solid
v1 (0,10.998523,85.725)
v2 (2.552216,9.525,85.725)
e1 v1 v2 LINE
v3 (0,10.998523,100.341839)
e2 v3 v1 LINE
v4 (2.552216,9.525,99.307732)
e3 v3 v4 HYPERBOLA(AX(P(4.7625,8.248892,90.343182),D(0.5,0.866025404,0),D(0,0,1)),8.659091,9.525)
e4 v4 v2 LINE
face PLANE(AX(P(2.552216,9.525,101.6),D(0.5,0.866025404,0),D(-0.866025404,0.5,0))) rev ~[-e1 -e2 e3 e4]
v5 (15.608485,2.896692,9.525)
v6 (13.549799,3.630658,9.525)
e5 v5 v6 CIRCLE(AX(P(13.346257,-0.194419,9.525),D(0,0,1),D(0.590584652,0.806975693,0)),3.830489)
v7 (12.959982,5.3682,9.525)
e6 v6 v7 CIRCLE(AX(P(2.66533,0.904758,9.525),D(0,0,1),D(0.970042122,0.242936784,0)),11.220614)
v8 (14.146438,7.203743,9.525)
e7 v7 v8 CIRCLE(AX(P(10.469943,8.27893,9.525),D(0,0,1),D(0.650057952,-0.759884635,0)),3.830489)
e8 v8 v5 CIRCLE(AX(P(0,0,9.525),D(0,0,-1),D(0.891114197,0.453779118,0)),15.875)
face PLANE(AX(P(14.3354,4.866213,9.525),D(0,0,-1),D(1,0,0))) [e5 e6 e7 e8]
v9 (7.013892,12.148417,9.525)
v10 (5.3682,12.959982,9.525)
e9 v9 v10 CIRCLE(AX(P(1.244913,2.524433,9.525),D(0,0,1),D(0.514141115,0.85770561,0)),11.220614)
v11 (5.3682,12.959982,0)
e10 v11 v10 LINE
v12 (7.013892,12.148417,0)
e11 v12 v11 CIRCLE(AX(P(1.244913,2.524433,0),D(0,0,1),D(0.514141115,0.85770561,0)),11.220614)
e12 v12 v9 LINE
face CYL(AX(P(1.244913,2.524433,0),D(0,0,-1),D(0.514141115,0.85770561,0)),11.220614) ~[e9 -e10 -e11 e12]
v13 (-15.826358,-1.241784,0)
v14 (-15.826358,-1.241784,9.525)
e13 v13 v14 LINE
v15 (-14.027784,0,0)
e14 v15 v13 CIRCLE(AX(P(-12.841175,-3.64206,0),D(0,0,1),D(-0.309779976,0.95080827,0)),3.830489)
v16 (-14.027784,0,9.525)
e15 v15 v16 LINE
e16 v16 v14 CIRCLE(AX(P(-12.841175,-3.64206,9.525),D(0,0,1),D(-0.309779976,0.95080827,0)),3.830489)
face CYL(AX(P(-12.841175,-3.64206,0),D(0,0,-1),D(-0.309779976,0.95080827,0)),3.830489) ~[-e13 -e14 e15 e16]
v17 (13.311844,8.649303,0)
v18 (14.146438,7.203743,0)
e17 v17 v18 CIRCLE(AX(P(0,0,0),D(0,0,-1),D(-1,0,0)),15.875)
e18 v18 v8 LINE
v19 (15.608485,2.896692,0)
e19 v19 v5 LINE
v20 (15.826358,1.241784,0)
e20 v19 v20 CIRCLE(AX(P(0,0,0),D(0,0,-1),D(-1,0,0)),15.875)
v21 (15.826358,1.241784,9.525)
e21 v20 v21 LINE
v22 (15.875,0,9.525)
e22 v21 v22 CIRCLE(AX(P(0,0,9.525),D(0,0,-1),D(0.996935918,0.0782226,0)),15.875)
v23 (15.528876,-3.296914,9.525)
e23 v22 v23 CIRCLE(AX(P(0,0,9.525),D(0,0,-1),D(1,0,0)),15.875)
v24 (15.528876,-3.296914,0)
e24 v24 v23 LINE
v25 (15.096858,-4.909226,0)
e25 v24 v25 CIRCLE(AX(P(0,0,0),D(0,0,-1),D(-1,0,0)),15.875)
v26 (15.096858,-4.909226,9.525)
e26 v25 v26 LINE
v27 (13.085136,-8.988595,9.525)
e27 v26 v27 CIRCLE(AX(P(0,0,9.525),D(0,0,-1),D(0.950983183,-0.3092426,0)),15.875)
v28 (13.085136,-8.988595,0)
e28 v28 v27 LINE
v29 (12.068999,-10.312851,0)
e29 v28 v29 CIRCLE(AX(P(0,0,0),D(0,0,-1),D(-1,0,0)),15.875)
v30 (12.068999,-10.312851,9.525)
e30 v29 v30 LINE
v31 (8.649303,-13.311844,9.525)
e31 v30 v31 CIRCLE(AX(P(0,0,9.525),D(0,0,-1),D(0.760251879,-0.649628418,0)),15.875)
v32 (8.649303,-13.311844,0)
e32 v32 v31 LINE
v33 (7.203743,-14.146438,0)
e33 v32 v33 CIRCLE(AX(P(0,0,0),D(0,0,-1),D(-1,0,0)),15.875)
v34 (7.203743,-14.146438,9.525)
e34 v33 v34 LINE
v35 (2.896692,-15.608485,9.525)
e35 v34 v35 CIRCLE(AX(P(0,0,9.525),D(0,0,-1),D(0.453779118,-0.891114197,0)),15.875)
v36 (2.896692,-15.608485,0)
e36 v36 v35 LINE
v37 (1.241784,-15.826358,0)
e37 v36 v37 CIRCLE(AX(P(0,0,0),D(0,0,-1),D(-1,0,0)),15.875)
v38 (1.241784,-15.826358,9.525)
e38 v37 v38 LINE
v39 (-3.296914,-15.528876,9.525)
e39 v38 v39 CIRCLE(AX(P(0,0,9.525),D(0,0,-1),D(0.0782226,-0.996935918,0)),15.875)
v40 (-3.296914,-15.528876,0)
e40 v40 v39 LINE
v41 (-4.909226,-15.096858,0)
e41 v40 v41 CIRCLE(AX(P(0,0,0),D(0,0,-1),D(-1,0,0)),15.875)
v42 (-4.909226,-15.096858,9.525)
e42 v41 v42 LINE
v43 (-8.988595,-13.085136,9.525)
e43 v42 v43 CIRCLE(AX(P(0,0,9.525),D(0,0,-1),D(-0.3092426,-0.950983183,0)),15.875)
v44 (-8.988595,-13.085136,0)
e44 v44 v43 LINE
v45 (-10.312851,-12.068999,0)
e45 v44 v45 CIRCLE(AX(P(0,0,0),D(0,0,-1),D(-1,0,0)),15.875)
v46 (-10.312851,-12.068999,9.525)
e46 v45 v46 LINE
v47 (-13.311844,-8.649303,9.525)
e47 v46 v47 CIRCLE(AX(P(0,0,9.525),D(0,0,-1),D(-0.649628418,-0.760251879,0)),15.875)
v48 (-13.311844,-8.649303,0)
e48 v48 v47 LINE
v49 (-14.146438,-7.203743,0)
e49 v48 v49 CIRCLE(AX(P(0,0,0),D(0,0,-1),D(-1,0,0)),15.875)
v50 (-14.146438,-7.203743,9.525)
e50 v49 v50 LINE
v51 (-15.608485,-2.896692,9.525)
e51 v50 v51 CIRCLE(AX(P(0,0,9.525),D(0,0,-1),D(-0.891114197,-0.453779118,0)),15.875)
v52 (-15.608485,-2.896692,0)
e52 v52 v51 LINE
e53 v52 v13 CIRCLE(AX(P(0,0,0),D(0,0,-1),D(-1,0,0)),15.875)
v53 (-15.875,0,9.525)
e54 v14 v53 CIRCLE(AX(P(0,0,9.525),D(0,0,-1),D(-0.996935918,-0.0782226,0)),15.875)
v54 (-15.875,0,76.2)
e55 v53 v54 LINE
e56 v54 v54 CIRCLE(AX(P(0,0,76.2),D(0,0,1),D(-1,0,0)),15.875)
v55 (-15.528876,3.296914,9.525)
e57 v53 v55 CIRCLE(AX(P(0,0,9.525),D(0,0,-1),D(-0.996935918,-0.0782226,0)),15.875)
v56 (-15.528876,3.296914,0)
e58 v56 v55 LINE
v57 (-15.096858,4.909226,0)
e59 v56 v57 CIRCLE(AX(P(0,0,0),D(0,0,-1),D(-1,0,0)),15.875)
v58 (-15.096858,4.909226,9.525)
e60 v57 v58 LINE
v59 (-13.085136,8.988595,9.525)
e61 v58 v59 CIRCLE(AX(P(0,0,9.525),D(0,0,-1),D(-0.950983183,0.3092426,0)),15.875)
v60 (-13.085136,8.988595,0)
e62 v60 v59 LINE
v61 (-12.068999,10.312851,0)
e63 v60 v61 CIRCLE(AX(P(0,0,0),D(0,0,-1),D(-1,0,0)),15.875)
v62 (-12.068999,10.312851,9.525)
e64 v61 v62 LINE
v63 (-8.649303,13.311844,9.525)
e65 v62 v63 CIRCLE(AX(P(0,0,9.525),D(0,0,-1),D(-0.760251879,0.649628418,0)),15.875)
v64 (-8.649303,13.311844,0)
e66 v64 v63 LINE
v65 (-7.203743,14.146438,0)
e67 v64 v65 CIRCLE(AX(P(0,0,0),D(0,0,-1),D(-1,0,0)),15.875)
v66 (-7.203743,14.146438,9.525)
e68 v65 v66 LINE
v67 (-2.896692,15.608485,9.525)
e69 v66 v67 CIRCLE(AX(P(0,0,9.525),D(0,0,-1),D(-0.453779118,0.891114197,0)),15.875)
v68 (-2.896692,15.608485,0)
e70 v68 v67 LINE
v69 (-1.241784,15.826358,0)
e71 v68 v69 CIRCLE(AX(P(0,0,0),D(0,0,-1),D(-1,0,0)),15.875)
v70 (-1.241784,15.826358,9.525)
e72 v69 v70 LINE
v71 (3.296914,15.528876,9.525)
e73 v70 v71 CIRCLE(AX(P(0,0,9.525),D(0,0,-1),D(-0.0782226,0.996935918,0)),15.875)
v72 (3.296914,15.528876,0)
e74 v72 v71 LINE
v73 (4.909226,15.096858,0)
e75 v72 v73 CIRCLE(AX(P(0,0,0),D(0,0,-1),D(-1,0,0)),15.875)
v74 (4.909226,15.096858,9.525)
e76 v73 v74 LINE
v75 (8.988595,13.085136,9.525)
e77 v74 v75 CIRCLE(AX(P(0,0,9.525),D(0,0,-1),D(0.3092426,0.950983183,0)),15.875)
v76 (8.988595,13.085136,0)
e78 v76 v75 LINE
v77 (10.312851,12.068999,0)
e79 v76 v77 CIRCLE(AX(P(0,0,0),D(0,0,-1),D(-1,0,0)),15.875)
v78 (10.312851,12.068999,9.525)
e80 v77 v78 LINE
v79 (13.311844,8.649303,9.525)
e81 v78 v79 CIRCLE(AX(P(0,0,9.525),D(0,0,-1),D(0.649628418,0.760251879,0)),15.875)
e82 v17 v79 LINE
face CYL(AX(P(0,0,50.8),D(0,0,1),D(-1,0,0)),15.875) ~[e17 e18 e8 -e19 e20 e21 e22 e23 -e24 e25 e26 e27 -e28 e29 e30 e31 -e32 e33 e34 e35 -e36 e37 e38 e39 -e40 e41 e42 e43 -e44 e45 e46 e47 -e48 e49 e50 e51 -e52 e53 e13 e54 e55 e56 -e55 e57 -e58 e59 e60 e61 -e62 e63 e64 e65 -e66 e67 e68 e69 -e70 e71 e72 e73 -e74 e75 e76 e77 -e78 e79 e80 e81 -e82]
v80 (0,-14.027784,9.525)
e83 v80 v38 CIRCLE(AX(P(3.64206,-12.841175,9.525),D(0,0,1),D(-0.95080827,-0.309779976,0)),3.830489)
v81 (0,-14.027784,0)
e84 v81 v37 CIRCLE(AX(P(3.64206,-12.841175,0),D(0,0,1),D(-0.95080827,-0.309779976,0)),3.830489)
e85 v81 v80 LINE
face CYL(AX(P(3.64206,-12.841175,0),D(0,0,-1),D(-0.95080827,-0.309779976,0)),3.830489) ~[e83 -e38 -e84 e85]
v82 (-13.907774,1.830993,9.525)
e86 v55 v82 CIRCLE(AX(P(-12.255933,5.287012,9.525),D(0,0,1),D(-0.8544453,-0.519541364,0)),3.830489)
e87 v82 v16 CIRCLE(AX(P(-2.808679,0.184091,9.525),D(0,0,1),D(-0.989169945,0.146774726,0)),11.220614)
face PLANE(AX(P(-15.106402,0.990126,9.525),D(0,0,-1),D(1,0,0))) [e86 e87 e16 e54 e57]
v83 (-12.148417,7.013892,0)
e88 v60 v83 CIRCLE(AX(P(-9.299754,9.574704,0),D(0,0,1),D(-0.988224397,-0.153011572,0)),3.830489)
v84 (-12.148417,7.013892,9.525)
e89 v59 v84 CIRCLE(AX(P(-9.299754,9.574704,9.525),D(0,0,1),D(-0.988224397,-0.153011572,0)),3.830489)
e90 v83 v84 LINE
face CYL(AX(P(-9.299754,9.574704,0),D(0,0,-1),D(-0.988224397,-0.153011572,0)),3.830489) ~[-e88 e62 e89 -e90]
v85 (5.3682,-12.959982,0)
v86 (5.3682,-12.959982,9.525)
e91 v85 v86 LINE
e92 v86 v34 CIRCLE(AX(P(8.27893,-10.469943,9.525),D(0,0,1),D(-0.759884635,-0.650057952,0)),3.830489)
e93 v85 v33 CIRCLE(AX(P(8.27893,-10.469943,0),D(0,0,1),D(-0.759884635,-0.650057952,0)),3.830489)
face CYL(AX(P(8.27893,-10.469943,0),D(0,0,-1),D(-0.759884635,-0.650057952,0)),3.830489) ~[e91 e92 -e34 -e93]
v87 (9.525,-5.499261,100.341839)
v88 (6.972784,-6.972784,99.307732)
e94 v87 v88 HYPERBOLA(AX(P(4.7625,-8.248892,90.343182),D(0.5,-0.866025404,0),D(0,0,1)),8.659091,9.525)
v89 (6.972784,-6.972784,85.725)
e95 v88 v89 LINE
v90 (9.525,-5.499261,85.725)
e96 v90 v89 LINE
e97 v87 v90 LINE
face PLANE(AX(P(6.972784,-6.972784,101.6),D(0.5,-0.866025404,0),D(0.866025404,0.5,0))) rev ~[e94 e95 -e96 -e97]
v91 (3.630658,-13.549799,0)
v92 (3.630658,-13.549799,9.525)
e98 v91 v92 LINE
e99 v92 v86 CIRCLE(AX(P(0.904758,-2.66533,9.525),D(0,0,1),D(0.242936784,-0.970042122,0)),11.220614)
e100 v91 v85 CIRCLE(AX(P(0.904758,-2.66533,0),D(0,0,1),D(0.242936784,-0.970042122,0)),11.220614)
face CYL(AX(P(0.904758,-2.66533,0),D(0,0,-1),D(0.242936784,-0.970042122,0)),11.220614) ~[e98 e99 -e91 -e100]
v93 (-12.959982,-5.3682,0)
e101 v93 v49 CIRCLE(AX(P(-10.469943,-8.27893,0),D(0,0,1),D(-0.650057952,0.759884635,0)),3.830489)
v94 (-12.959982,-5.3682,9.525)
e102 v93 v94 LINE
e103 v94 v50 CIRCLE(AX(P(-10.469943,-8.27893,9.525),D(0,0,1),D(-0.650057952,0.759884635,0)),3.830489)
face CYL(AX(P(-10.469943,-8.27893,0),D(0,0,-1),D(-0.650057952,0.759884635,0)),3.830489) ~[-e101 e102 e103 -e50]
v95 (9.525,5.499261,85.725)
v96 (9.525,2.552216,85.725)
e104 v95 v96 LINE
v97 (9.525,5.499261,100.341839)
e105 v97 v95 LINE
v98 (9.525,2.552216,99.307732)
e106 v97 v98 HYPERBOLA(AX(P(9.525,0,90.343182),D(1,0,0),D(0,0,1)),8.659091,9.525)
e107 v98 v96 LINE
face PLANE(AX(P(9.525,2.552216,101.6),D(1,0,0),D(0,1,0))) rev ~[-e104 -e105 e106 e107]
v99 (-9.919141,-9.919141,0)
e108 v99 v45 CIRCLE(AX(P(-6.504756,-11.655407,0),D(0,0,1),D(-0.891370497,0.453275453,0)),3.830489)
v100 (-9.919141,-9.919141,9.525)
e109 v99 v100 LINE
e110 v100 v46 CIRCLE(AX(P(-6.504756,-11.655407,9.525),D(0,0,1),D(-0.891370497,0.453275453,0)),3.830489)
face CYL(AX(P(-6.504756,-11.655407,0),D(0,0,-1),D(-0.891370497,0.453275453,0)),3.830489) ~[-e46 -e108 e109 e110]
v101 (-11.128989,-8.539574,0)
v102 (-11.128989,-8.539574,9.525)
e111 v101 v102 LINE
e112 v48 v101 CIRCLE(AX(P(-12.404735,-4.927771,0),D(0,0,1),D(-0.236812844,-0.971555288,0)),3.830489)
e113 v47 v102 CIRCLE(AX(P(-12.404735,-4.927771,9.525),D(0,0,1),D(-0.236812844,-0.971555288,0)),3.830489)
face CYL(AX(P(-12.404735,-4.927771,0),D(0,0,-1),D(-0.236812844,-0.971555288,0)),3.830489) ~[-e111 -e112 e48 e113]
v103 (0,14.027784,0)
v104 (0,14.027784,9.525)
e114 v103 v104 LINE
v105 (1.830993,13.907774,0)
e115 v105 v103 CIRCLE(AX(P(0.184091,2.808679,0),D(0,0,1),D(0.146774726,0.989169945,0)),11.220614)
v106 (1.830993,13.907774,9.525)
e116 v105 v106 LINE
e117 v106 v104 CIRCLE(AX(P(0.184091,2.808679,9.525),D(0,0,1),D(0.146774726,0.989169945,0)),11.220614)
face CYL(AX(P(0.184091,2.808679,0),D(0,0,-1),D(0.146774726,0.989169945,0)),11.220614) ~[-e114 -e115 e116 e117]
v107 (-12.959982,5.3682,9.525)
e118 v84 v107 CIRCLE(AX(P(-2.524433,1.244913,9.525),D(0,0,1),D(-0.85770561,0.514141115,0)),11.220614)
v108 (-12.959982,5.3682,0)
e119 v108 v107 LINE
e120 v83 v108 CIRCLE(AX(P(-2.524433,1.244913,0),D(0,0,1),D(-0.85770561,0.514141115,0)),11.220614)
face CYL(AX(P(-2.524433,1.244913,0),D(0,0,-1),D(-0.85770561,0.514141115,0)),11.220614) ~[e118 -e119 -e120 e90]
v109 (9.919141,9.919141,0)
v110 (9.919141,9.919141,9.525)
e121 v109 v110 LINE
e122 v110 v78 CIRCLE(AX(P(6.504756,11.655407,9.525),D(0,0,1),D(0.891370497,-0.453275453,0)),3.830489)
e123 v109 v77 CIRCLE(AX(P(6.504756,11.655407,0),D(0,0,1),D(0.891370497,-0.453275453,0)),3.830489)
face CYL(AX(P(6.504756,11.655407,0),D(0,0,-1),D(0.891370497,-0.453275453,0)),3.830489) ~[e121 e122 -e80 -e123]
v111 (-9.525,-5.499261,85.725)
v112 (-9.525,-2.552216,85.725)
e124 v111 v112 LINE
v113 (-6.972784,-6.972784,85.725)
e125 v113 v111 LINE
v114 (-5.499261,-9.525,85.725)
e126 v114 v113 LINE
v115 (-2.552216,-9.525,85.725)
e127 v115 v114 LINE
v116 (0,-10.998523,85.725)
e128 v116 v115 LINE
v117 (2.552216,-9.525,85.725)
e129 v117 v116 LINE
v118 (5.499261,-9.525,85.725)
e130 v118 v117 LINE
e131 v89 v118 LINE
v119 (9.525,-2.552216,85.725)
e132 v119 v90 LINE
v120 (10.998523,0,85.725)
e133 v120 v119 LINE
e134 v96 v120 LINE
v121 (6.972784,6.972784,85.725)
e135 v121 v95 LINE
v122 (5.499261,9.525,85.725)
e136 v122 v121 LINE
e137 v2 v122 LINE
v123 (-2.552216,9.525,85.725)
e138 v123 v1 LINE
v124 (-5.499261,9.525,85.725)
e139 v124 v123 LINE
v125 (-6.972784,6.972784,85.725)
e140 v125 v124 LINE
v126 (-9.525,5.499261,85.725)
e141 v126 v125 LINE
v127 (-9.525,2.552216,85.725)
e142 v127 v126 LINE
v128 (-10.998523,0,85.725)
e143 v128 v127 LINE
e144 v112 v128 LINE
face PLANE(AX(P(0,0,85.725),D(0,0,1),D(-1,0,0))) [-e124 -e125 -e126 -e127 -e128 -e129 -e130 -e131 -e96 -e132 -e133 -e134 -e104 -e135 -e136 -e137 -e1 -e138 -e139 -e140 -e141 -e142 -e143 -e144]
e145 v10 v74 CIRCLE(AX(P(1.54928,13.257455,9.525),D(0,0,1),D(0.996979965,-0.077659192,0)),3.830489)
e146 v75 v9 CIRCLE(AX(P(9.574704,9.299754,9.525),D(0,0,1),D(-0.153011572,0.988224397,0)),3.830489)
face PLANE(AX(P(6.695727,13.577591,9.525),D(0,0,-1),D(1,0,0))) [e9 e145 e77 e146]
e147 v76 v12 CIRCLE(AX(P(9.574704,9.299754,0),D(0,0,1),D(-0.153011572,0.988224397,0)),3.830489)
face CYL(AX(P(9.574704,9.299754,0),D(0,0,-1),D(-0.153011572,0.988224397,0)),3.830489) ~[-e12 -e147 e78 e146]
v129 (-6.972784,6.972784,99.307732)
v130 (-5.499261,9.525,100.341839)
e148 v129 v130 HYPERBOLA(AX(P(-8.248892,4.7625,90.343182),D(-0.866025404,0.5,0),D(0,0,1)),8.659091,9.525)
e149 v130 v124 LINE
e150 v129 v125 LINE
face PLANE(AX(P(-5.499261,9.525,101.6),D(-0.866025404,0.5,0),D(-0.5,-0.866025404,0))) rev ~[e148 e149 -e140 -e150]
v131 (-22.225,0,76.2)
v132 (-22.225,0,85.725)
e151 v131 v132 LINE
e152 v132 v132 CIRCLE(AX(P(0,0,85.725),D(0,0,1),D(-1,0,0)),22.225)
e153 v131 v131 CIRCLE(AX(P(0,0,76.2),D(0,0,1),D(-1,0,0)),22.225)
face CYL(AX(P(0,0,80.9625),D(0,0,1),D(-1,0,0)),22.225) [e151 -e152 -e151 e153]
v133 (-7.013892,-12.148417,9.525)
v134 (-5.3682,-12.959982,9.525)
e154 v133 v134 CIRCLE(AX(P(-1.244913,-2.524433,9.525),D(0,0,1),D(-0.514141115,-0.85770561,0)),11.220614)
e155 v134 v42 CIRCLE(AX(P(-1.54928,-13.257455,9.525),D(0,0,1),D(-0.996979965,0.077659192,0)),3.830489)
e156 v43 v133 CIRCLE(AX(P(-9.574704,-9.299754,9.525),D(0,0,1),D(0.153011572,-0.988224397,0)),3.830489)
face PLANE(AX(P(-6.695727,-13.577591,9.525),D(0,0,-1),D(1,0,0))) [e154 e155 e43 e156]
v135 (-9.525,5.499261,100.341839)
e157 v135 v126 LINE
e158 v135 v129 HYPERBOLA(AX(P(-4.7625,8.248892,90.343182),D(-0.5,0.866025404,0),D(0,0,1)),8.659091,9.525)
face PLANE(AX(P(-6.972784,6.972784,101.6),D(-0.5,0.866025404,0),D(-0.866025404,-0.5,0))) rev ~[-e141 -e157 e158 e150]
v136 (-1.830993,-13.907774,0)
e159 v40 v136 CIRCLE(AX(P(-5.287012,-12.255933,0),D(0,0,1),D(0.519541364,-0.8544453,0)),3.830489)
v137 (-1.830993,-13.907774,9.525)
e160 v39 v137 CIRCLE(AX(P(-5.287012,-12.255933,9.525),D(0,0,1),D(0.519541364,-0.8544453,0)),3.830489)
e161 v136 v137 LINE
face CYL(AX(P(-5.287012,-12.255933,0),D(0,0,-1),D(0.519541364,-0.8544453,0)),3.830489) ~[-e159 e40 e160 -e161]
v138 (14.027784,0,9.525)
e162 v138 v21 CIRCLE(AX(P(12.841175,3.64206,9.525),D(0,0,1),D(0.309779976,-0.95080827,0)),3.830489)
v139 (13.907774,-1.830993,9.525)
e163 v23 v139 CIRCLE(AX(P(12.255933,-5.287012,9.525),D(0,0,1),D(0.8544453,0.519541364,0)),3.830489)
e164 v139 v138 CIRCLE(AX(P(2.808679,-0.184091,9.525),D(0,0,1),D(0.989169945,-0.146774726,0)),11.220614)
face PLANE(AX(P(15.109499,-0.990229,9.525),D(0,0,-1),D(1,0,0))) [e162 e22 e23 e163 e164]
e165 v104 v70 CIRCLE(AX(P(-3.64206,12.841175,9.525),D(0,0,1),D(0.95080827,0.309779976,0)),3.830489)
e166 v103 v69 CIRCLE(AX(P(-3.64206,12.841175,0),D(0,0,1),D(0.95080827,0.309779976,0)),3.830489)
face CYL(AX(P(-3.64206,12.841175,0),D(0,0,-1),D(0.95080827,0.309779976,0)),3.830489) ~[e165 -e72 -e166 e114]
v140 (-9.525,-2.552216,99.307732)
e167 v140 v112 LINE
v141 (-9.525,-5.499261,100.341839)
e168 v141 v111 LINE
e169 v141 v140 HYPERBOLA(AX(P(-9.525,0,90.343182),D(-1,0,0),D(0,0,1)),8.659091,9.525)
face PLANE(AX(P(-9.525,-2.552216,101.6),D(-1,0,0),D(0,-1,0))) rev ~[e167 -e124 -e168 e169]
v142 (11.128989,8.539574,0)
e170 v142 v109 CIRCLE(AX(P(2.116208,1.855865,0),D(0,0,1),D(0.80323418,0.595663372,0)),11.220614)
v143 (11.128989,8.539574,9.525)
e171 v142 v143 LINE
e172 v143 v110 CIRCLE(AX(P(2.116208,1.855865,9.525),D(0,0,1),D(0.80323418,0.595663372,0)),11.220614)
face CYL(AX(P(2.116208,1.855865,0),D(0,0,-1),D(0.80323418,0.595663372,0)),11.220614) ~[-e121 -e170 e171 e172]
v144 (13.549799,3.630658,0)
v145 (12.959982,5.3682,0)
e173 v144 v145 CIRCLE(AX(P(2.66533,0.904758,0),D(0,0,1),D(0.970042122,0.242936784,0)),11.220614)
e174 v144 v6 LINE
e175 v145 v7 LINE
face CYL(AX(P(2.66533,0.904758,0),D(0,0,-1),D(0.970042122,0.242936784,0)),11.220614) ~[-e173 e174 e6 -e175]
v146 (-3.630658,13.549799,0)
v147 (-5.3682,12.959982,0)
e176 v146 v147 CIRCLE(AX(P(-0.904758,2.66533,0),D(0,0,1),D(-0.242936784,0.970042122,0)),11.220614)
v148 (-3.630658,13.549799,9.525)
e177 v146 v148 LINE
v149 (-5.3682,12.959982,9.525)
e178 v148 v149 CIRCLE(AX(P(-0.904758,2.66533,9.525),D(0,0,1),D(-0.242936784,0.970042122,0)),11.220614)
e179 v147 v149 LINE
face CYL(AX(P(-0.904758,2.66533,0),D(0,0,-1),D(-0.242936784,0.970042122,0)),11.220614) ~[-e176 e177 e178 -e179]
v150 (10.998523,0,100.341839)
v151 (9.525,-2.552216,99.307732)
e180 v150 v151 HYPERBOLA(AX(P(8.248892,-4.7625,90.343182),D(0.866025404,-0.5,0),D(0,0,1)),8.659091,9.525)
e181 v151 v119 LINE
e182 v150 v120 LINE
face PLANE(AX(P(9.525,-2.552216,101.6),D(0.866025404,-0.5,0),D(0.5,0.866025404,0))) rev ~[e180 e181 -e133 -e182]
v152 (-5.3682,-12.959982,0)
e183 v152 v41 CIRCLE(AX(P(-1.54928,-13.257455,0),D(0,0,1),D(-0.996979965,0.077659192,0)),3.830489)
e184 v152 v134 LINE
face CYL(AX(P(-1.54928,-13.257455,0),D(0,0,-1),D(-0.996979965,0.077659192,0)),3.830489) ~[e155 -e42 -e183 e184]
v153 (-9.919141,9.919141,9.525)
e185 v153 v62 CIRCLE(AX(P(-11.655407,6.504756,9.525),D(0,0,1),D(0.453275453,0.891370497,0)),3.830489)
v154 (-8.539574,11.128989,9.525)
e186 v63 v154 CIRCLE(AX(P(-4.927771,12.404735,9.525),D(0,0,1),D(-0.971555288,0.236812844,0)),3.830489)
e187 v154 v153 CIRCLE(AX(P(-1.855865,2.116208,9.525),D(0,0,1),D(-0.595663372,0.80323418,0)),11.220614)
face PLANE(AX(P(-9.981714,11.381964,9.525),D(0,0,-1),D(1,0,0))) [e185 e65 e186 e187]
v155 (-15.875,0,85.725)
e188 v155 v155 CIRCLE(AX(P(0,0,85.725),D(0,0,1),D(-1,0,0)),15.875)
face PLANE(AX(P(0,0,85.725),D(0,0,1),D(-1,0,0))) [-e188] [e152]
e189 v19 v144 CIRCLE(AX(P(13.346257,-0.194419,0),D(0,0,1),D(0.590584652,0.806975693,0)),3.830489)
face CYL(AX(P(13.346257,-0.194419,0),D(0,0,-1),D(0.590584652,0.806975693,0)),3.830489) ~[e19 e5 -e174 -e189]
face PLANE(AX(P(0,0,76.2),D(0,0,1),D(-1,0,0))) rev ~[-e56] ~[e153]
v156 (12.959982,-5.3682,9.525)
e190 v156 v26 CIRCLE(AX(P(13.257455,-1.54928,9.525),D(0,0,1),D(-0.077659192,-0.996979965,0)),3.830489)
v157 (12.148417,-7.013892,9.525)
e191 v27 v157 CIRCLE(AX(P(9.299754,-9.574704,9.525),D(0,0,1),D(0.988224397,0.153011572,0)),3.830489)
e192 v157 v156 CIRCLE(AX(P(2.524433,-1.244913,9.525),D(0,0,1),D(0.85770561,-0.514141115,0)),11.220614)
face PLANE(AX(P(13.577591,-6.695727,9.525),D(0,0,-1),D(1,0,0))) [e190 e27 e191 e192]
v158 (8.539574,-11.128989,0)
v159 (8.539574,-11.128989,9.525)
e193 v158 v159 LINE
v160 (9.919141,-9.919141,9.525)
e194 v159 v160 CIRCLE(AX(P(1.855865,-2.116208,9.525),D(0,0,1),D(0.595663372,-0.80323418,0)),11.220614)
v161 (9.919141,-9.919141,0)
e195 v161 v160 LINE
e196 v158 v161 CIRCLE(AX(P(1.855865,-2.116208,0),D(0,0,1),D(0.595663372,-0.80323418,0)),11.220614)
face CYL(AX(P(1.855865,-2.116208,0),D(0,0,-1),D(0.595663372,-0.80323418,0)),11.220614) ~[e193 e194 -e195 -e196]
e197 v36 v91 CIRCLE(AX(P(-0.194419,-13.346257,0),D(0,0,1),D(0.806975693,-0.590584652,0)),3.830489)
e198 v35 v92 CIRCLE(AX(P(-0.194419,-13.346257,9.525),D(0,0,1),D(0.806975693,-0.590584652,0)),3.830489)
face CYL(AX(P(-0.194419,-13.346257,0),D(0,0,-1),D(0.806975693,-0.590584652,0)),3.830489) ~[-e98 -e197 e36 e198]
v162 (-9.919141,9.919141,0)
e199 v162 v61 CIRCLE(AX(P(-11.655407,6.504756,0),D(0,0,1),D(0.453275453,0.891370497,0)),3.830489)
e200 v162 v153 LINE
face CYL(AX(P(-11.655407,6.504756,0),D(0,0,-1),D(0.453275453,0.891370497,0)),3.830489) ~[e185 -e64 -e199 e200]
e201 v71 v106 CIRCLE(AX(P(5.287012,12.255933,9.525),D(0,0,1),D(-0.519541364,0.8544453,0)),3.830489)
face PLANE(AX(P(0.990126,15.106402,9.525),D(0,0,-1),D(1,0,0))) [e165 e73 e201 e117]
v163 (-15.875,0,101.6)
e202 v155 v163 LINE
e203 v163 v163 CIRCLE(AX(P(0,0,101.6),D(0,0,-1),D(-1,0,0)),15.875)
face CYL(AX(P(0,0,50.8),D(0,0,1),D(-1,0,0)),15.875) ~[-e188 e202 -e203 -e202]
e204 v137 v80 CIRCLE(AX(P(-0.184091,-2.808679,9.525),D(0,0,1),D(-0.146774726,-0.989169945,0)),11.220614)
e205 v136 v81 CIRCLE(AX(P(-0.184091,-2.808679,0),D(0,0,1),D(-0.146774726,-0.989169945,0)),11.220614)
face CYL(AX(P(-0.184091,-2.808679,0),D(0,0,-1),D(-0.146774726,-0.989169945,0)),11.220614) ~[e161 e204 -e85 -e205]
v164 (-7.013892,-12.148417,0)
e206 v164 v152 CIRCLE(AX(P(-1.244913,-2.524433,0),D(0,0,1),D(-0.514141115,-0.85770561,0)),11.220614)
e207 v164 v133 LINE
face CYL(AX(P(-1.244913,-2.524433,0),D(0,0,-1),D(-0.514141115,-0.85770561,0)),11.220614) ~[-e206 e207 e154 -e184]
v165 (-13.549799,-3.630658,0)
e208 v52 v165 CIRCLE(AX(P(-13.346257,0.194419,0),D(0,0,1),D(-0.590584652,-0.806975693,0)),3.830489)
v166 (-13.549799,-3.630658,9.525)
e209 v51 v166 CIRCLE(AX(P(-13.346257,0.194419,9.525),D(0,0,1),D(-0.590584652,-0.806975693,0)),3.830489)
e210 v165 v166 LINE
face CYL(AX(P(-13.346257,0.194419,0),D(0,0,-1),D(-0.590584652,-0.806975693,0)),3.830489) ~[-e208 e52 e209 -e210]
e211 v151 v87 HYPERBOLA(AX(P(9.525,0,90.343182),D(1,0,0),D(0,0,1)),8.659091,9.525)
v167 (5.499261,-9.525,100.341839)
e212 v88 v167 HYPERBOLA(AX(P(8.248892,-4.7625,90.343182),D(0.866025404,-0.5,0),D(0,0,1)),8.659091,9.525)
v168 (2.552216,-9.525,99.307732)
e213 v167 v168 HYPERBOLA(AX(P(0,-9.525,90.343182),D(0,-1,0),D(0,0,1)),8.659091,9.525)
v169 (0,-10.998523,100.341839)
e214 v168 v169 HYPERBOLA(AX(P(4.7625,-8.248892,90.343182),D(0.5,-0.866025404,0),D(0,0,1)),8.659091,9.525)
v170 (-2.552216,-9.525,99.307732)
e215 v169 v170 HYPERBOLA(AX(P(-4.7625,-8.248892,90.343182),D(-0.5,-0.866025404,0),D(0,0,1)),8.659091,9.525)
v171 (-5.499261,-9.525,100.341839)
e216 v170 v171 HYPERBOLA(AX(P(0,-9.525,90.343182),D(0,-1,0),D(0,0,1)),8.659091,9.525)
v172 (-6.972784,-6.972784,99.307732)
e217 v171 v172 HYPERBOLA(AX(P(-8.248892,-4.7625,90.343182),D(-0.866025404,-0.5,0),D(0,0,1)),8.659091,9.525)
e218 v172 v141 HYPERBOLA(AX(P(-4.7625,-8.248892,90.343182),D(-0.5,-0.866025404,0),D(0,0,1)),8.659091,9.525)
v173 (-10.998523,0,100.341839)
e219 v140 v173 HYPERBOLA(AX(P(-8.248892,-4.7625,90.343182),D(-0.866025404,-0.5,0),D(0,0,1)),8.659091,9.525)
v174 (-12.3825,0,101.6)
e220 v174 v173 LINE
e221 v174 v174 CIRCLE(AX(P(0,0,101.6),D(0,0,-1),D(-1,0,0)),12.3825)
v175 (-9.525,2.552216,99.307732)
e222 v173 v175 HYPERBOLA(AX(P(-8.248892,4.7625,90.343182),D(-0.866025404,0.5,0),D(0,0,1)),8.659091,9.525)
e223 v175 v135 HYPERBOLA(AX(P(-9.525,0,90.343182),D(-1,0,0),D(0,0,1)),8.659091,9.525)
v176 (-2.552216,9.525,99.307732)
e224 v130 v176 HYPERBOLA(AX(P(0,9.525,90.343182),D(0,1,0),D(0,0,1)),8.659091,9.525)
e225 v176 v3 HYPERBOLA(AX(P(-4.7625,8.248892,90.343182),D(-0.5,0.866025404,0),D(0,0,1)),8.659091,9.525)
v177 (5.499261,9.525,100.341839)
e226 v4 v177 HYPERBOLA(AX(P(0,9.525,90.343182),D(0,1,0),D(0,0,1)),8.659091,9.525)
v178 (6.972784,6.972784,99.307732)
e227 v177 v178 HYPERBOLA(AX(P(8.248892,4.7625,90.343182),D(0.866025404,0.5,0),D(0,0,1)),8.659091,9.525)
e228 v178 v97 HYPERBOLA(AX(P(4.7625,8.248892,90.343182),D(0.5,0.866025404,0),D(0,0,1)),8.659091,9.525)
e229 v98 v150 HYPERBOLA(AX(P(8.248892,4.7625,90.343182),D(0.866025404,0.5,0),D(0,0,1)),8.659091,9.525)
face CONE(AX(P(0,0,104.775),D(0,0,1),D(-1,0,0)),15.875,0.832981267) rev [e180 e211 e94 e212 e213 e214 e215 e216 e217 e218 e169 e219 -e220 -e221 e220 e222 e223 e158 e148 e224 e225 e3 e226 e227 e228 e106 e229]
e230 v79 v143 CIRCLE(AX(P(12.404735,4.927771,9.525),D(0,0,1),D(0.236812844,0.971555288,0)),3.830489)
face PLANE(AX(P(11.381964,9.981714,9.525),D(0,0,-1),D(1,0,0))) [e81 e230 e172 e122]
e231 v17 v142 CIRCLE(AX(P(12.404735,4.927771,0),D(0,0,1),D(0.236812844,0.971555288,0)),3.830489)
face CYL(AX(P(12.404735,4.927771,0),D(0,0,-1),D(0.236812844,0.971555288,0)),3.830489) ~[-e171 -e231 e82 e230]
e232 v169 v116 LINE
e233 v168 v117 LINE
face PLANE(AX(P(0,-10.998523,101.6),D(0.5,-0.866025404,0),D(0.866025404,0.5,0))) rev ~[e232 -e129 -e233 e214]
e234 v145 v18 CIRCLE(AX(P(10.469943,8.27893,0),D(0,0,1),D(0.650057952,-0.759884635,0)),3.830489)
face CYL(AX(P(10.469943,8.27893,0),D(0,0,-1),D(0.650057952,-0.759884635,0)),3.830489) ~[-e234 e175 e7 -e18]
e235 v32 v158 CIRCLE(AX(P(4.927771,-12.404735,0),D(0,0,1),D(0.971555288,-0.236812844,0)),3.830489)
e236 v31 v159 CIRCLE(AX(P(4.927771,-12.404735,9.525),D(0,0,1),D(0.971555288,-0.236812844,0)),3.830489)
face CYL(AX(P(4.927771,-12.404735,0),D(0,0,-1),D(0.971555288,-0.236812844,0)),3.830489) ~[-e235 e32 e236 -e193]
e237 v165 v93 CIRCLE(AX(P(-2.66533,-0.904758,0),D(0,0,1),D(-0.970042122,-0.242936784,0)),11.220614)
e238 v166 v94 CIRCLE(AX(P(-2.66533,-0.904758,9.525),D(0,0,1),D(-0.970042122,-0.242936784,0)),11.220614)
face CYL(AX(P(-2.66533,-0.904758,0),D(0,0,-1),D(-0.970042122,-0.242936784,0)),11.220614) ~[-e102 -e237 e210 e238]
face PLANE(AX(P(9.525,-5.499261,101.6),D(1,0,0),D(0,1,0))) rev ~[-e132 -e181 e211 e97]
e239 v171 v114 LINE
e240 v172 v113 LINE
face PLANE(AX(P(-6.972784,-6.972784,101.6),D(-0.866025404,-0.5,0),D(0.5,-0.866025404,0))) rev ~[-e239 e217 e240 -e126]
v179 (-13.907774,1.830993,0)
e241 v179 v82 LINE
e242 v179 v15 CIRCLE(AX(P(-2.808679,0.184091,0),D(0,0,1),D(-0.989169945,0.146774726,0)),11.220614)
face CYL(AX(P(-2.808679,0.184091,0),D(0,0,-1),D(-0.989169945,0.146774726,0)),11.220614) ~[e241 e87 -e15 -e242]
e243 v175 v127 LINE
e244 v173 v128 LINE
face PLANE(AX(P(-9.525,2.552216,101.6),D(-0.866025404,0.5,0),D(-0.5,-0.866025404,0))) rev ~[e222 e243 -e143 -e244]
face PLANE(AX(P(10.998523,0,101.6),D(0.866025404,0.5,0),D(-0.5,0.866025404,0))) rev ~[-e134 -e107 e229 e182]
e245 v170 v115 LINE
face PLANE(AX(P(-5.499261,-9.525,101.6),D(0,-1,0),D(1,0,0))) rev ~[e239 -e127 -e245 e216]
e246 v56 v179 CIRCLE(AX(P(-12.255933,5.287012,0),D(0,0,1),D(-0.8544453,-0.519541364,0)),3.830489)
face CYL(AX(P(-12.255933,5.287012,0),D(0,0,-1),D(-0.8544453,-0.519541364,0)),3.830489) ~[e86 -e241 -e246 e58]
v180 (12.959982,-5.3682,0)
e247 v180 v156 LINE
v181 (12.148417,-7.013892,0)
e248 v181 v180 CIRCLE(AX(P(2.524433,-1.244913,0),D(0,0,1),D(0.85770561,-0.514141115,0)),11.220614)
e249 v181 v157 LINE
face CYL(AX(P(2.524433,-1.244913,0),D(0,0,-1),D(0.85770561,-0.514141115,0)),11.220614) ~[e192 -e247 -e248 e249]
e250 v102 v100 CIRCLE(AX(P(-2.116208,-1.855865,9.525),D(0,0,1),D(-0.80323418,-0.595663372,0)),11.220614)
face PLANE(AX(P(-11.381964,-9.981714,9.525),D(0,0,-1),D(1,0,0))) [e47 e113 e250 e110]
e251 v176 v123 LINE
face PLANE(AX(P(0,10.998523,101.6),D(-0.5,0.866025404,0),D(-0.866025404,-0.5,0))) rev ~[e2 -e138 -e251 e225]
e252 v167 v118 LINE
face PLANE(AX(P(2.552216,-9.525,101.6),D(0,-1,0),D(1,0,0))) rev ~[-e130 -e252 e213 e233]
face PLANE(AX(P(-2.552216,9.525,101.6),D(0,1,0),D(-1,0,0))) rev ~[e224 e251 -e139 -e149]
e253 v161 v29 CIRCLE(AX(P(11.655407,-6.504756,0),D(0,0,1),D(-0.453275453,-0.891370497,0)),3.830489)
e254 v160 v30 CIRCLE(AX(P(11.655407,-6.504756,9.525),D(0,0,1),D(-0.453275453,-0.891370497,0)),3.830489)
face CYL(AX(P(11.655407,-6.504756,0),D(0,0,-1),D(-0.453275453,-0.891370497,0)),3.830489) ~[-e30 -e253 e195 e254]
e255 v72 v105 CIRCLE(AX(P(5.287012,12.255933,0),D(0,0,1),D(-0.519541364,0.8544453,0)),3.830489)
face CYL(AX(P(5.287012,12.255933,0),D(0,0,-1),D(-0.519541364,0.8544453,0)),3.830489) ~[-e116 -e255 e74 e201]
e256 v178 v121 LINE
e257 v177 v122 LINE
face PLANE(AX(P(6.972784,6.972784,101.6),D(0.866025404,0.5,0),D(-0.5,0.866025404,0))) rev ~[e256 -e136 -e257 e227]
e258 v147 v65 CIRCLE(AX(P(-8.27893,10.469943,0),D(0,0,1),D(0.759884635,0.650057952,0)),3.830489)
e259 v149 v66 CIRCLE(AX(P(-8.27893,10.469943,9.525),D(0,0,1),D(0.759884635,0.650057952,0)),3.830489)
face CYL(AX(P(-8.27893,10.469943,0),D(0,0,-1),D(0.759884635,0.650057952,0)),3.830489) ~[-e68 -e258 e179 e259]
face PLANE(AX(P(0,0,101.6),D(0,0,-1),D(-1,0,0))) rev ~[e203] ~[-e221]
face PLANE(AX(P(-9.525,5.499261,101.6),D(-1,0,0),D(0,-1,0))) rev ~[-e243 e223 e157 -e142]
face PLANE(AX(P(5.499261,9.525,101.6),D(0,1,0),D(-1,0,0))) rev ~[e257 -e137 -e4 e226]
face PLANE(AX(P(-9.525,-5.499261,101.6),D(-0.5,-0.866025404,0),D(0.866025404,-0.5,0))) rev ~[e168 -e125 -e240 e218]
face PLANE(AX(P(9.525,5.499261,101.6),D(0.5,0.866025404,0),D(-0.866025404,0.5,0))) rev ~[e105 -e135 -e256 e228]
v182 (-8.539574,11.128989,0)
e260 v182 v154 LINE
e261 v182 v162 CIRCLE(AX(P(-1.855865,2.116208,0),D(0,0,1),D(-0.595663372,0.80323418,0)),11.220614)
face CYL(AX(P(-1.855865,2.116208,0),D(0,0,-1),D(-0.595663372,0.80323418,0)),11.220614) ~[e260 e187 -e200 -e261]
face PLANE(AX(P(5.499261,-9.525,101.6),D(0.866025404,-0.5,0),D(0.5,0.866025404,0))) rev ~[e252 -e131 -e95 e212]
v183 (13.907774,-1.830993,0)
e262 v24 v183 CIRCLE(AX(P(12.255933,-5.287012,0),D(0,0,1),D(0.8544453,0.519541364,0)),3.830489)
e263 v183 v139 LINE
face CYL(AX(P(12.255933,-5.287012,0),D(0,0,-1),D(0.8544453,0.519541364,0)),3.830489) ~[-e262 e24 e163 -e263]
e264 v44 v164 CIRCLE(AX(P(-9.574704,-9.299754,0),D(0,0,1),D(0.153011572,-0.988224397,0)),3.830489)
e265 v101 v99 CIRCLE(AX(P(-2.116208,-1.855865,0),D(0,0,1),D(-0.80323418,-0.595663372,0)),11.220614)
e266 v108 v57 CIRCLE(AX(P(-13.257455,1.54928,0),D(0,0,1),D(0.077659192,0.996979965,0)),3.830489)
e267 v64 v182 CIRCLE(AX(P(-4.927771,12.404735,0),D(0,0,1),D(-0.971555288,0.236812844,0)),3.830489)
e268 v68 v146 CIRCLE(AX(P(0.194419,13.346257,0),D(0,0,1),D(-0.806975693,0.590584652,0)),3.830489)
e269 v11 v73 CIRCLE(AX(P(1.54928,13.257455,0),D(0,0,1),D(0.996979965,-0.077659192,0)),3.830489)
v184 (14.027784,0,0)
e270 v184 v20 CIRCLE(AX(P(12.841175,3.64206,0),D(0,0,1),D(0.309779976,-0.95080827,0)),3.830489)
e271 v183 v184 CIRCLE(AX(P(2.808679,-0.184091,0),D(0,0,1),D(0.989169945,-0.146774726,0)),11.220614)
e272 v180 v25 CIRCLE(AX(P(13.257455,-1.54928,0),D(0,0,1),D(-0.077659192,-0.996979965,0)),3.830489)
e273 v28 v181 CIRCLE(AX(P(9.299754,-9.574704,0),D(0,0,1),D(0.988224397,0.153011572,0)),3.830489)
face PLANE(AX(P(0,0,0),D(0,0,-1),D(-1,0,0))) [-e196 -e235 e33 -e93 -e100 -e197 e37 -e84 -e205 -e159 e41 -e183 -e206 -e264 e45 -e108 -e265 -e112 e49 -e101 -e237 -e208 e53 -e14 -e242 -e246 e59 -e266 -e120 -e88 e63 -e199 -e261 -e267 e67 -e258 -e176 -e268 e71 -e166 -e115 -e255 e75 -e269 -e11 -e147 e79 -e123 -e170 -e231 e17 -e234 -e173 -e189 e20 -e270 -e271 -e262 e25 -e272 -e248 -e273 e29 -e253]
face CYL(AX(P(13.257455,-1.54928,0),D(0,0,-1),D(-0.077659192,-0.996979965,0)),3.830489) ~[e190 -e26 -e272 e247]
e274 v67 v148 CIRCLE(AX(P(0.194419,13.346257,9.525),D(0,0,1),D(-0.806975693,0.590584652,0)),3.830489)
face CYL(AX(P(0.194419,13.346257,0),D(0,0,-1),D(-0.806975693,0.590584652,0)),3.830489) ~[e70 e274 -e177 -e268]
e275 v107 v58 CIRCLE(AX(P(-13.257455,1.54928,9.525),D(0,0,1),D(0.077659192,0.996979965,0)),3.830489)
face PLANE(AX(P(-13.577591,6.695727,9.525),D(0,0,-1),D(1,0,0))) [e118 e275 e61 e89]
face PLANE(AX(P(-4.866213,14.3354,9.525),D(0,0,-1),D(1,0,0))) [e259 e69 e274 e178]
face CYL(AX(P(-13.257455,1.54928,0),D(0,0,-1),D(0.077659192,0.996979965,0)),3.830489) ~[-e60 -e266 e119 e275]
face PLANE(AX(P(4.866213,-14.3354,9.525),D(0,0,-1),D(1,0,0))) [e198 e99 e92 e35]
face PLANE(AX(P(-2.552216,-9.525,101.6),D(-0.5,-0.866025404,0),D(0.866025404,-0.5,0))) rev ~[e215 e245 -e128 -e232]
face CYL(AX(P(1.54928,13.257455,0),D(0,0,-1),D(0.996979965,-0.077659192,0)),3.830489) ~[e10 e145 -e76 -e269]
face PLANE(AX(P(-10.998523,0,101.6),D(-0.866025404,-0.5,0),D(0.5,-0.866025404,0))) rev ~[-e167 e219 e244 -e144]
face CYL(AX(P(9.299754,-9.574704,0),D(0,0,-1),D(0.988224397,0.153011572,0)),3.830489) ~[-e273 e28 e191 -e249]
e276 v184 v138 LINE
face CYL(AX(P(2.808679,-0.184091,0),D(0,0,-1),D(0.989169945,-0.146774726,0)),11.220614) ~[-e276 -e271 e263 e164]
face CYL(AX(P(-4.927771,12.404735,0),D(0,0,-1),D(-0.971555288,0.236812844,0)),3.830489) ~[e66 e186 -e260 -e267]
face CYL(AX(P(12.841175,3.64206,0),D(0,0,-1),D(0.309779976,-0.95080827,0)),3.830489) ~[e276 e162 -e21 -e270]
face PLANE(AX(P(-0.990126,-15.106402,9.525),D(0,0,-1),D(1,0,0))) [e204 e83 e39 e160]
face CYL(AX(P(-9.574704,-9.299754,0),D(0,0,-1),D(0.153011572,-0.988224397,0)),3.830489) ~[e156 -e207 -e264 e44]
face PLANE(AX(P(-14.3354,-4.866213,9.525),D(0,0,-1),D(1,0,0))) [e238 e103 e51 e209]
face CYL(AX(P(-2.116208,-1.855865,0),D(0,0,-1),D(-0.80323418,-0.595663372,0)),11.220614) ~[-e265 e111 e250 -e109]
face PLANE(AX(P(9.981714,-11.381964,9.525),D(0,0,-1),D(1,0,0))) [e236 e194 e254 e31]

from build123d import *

# Parameters (mm, degrees)
F0_W     = 15.875
F0_H     = 101.6
F4_DEPTH = 19.05
F7_DEPTH = 9.525
F8_W     = 22.225
F8_H     = 9.525


with BuildPart() as f1:
    # F0 (on Front) → F1 (revolve)
    with BuildSketch(Plane.XZ):
        with Locations((-7.9375, 50.8)):
            Rectangle(F0_W, F0_H)
    revolve(axis=Axis((0, 0, 50.8), (0, 0, -1)))

    # F3 (on face) → F4 (cut)
    with BuildSketch(Plane.XY.offset(101.6)):
        Polygon((-2.5522160579, 9.525), (-5.499261314, 9.525), (-6.9727839421, 6.9727839421), (-9.525, 5.499261314), (-9.525, 2.5522160579), (-10.9985226281, 0), (-9.525, -2.5522160579), (-9.525, -5.499261314), (-6.9727839421, -6.9727839421), (-5.499261314, -9.525), (-2.5522160579, -9.525), (0, -10.9985226281), (2.5522160579, -9.525), (5.499261314, -9.525), (6.9727839421, -6.9727839421), (9.525, -5.499261314), (9.525, -2.5522160579), (10.9985226281, 0), (9.525, 2.5522160579), (9.525, 5.499261314), (6.9727839421, 6.9727839421), (5.499261314, 9.525), (2.5522160579, 9.525), (0, 10.9985226281), align=None)
    extrude(amount=-F4_DEPTH, mode=Mode.SUBTRACT)

    # F5 (on Front) → F6 (revolve, cut)
    with BuildSketch(Plane.XZ):
        Polygon((0, 104.775), (-15.875, 104.775), (-8.89, 98.425), (0, 98.425), align=None)
    revolve(axis=Axis((0, 0, 101.6), (0, 0, 1)), mode=Mode.SUBTRACT)

    # F2 (on face) → F7 (cut)
    with BuildSketch(Plane(origin=(0, 0, 0), x_dir=(1, 0, 0), z_dir=(0, 0, -1))):
        with BuildLine():
            ThreePointArc((0, 14.0277836472), (0.4898902934, 15.0175176857), (1.2417837674, 15.8263577008))
            ThreePointArc((1.2417837674, 15.8263577008), (-1.0382746765, 15.8410104064), (-3.2969143426, 15.52887571))
            ThreePointArc((-3.2969143426, 15.52887571), (-2.4458786141, 14.8250972254), (-1.8309931848, 13.9077740135))
            ThreePointArc((-1.8309931848, 13.9077740135), (-0.9179538731, 14.0052696896), (0, 14.0277836472))
        make_face()
        with BuildLine():
            ThreePointArc((-5.3682003946, 12.9599821981), (-5.2943555983, 14.0618501179), (-4.9092262803, 15.0968580284))
            ThreePointArc((-4.9092262803, 15.0968580284), (-7.0213329572, 14.2378547718), (-8.988595139, 13.0851359346))
            ThreePointArc((-8.988595139, 13.0851359346), (-7.933016282, 12.7606066709), (-7.0138918236, 12.1484169972))
            ThreePointArc((-7.0138918236, 12.1484169972), (-6.2076634712, 12.5878962746), (-5.3682003946, 12.9599821981))
        make_face()
        with BuildLine():
            ThreePointArc((-9.9191409419, 9.9191409419), (-10.2725838436, 10.9653933406), (-10.312851129, 12.0689985745))
            ThreePointArc((-10.312851129, 12.0689985745), (-11.9354569437, 10.4671148147), (-13.3118438074, 8.6493028302))
            ThreePointArc((-13.3118438074, 8.6493028302), (-12.2124241339, 8.7534294258), (-11.1289890134, 8.5395736189))
            ThreePointArc((-11.1289890134, 8.5395736189), (-10.5523125784, 9.2541297614), (-9.9191409419, 9.9191409419))
        make_face()
        with BuildLine():
            ThreePointArc((-12.9599821981, 5.3682003946), (-13.6869043199, 6.1995548288), (-14.1464378796, 7.2037434933))
            ThreePointArc((-14.1464378796, 7.2037434933), (-15.0325158057, 5.1028515117), (-15.6084849282, 2.8966917759))
            ThreePointArc((-15.6084849282, 2.8966917759), (-14.6326011173, 3.4136219008), (-13.5497985104, 3.6306575685))
            ThreePointArc((-13.5497985104, 3.6306575685), (-13.2904677524, 4.5115058809), (-12.9599821981, 5.3682003946))
        make_face()
        with BuildLine():
            ThreePointArc((-14.0277836472, 0), (-15.0175176857, 0.4898902934), (-15.8263577008, 1.2417837674))
            ThreePointArc((-15.8263577008, 1.2417837674), (-15.8410104064, -1.0382746765), (-15.52887571, -3.2969143426))
            ThreePointArc((-15.52887571, -3.2969143426), (-14.8250972254, -2.4458786141), (-13.9077740135, -1.8309931848))
            ThreePointArc((-13.9077740135, -1.8309931848), (-14.0052696896, -0.9179538731), (-14.0277836472, 0))
        make_face()
        with BuildLine():
            ThreePointArc((-12.9599821981, -5.3682003946), (-14.0618501179, -5.2943555983), (-15.0968580284, -4.9092262803))
            ThreePointArc((-15.0968580284, -4.9092262803), (-14.2378547718, -7.0213329572), (-13.0851359346, -8.988595139))
            ThreePointArc((-13.0851359346, -8.988595139), (-12.7606066709, -7.933016282), (-12.1484169972, -7.0138918236))
            ThreePointArc((-12.1484169972, -7.0138918236), (-12.5878962746, -6.2076634712), (-12.9599821981, -5.3682003946))
        make_face()
        with BuildLine():
            ThreePointArc((-9.9191409419, -9.9191409419), (-10.9653933406, -10.2725838436), (-12.0689985745, -10.312851129))
            ThreePointArc((-12.0689985745, -10.312851129), (-10.4671148147, -11.9354569437), (-8.6493028302, -13.3118438074))
            ThreePointArc((-8.6493028302, -13.3118438074), (-8.7534294258, -12.2124241339), (-8.5395736189, -11.1289890134))
            ThreePointArc((-8.5395736189, -11.1289890134), (-9.2541297614, -10.5523125784), (-9.9191409419, -9.9191409419))
        make_face()
        with BuildLine():
            ThreePointArc((-5.3682003946, -12.9599821981), (-6.1995548288, -13.6869043199), (-7.2037434933, -14.1464378796))
            ThreePointArc((-7.2037434933, -14.1464378796), (-5.1028515117, -15.0325158057), (-2.8966917759, -15.6084849282))
            ThreePointArc((-2.8966917759, -15.6084849282), (-3.4136219008, -14.6326011173), (-3.6306575685, -13.5497985104))
            ThreePointArc((-3.6306575685, -13.5497985104), (-4.5115058809, -13.2904677524), (-5.3682003946, -12.9599821981))
        make_face()
        with BuildLine():
            ThreePointArc((-1.2417837674, -15.8263577008), (1.0382746765, -15.8410104064), (3.2969143426, -15.52887571))
            ThreePointArc((3.2969143426, -15.52887571), (2.4458786141, -14.8250972254), (1.8309931848, -13.9077740135))
            ThreePointArc((1.8309931848, -13.9077740135), (0.9179538731, -14.0052696896), (0, -14.0277836472))
            ThreePointArc((0, -14.0277836472), (-0.4898902934, -15.0175176857), (-1.2417837674, -15.8263577008))
        make_face()
        with BuildLine():
            ThreePointArc((4.9092262803, -15.0968580284), (7.0213329572, -14.2378547718), (8.988595139, -13.0851359346))
            ThreePointArc((8.988595139, -13.0851359346), (7.933016282, -12.7606066709), (7.0138918236, -12.1484169972))
            ThreePointArc((7.0138918236, -12.1484169972), (6.2076634712, -12.5878962746), (5.3682003946, -12.9599821981))
            ThreePointArc((5.3682003946, -12.9599821981), (5.2943555983, -14.0618501179), (4.9092262803, -15.0968580284))
        make_face()
        with BuildLine():
            ThreePointArc((10.312851129, -12.0689985745), (11.9354569437, -10.4671148147), (13.3118438074, -8.6493028302))
            ThreePointArc((13.3118438074, -8.6493028302), (12.2124241339, -8.7534294258), (11.1289890134, -8.5395736189))
            ThreePointArc((11.1289890134, -8.5395736189), (10.5523125784, -9.2541297614), (9.9191409419, -9.9191409419))
            ThreePointArc((9.9191409419, -9.9191409419), (10.2725838436, -10.9653933406), (10.312851129, -12.0689985745))
        make_face()
        with BuildLine():
            ThreePointArc((14.1464378796, -7.2037434933), (15.0325158057, -5.1028515117), (15.6084849282, -2.8966917759))
            ThreePointArc((15.6084849282, -2.8966917759), (14.6326011173, -3.4136219008), (13.5497985104, -3.6306575685))
            ThreePointArc((13.5497985104, -3.6306575685), (13.2904677524, -4.5115058809), (12.9599821981, -5.3682003946))
            ThreePointArc((12.9599821981, -5.3682003946), (13.6869043199, -6.1995548288), (14.1464378796, -7.2037434933))
        make_face()
        with BuildLine():
            ThreePointArc((15.875, 0), (15.7882318025, 1.6575166821), (15.52887571, 3.2969143426))
            ThreePointArc((15.52887571, 3.2969143426), (14.8250972254, 2.4458786141), (13.9077740135, 1.8309931848))
            ThreePointArc((13.9077740135, 1.8309931848), (14.0052696896, 0.9179538731), (14.0277836472, 0))
            ThreePointArc((14.0277836472, 0), (15.0175176857, -0.4898902934), (15.8263577008, -1.2417837674))
            ThreePointArc((15.8263577008, -1.2417837674), (15.862834764, -0.6213680468), (15.875, 0))
        make_face()
        with BuildLine():
            ThreePointArc((15.0968580284, 4.9092262803), (14.2378547718, 7.0213329572), (13.0851359346, 8.988595139))
            ThreePointArc((13.0851359346, 8.988595139), (12.7606066709, 7.933016282), (12.1484169972, 7.0138918236))
            ThreePointArc((12.1484169972, 7.0138918236), (12.5878962746, 6.2076634712), (12.9599821981, 5.3682003946))
            ThreePointArc((12.9599821981, 5.3682003946), (14.0618501179, 5.2943555983), (15.0968580284, 4.9092262803))
        make_face()
        with BuildLine():
            ThreePointArc((12.0689985745, 10.312851129), (10.4671148147, 11.9354569437), (8.6493028302, 13.3118438074))
            ThreePointArc((8.6493028302, 13.3118438074), (8.7534294258, 12.2124241339), (8.5395736189, 11.1289890134))
            ThreePointArc((8.5395736189, 11.1289890134), (9.2541297614, 10.5523125784), (9.9191409419, 9.9191409419))
            ThreePointArc((9.9191409419, 9.9191409419), (10.9653933406, 10.2725838436), (12.0689985745, 10.312851129))
        make_face()
        with BuildLine():
            ThreePointArc((7.2037434933, 14.1464378796), (5.1028515117, 15.0325158057), (2.8966917759, 15.6084849282))
            ThreePointArc((2.8966917759, 15.6084849282), (3.4136219008, 14.6326011173), (3.6306575685, 13.5497985104))
            ThreePointArc((3.6306575685, 13.5497985104), (4.5115058809, 13.2904677524), (5.3682003946, 12.9599821981))
            ThreePointArc((5.3682003946, 12.9599821981), (6.1995548288, 13.6869043199), (7.2037434933, 14.1464378796))
        make_face()
    extrude(amount=-F7_DEPTH, mode=Mode.SUBTRACT)

    # F8 (on Front) → F9 (revolve)
    with BuildSketch(Plane.XZ):
        with Locations((-11.1125, 80.9625)):
            Rectangle(F8_W, F8_H)
    revolve(axis=Axis((0, 0, 55.1995858796), (0, 0, 1)))


solid = f1.part
